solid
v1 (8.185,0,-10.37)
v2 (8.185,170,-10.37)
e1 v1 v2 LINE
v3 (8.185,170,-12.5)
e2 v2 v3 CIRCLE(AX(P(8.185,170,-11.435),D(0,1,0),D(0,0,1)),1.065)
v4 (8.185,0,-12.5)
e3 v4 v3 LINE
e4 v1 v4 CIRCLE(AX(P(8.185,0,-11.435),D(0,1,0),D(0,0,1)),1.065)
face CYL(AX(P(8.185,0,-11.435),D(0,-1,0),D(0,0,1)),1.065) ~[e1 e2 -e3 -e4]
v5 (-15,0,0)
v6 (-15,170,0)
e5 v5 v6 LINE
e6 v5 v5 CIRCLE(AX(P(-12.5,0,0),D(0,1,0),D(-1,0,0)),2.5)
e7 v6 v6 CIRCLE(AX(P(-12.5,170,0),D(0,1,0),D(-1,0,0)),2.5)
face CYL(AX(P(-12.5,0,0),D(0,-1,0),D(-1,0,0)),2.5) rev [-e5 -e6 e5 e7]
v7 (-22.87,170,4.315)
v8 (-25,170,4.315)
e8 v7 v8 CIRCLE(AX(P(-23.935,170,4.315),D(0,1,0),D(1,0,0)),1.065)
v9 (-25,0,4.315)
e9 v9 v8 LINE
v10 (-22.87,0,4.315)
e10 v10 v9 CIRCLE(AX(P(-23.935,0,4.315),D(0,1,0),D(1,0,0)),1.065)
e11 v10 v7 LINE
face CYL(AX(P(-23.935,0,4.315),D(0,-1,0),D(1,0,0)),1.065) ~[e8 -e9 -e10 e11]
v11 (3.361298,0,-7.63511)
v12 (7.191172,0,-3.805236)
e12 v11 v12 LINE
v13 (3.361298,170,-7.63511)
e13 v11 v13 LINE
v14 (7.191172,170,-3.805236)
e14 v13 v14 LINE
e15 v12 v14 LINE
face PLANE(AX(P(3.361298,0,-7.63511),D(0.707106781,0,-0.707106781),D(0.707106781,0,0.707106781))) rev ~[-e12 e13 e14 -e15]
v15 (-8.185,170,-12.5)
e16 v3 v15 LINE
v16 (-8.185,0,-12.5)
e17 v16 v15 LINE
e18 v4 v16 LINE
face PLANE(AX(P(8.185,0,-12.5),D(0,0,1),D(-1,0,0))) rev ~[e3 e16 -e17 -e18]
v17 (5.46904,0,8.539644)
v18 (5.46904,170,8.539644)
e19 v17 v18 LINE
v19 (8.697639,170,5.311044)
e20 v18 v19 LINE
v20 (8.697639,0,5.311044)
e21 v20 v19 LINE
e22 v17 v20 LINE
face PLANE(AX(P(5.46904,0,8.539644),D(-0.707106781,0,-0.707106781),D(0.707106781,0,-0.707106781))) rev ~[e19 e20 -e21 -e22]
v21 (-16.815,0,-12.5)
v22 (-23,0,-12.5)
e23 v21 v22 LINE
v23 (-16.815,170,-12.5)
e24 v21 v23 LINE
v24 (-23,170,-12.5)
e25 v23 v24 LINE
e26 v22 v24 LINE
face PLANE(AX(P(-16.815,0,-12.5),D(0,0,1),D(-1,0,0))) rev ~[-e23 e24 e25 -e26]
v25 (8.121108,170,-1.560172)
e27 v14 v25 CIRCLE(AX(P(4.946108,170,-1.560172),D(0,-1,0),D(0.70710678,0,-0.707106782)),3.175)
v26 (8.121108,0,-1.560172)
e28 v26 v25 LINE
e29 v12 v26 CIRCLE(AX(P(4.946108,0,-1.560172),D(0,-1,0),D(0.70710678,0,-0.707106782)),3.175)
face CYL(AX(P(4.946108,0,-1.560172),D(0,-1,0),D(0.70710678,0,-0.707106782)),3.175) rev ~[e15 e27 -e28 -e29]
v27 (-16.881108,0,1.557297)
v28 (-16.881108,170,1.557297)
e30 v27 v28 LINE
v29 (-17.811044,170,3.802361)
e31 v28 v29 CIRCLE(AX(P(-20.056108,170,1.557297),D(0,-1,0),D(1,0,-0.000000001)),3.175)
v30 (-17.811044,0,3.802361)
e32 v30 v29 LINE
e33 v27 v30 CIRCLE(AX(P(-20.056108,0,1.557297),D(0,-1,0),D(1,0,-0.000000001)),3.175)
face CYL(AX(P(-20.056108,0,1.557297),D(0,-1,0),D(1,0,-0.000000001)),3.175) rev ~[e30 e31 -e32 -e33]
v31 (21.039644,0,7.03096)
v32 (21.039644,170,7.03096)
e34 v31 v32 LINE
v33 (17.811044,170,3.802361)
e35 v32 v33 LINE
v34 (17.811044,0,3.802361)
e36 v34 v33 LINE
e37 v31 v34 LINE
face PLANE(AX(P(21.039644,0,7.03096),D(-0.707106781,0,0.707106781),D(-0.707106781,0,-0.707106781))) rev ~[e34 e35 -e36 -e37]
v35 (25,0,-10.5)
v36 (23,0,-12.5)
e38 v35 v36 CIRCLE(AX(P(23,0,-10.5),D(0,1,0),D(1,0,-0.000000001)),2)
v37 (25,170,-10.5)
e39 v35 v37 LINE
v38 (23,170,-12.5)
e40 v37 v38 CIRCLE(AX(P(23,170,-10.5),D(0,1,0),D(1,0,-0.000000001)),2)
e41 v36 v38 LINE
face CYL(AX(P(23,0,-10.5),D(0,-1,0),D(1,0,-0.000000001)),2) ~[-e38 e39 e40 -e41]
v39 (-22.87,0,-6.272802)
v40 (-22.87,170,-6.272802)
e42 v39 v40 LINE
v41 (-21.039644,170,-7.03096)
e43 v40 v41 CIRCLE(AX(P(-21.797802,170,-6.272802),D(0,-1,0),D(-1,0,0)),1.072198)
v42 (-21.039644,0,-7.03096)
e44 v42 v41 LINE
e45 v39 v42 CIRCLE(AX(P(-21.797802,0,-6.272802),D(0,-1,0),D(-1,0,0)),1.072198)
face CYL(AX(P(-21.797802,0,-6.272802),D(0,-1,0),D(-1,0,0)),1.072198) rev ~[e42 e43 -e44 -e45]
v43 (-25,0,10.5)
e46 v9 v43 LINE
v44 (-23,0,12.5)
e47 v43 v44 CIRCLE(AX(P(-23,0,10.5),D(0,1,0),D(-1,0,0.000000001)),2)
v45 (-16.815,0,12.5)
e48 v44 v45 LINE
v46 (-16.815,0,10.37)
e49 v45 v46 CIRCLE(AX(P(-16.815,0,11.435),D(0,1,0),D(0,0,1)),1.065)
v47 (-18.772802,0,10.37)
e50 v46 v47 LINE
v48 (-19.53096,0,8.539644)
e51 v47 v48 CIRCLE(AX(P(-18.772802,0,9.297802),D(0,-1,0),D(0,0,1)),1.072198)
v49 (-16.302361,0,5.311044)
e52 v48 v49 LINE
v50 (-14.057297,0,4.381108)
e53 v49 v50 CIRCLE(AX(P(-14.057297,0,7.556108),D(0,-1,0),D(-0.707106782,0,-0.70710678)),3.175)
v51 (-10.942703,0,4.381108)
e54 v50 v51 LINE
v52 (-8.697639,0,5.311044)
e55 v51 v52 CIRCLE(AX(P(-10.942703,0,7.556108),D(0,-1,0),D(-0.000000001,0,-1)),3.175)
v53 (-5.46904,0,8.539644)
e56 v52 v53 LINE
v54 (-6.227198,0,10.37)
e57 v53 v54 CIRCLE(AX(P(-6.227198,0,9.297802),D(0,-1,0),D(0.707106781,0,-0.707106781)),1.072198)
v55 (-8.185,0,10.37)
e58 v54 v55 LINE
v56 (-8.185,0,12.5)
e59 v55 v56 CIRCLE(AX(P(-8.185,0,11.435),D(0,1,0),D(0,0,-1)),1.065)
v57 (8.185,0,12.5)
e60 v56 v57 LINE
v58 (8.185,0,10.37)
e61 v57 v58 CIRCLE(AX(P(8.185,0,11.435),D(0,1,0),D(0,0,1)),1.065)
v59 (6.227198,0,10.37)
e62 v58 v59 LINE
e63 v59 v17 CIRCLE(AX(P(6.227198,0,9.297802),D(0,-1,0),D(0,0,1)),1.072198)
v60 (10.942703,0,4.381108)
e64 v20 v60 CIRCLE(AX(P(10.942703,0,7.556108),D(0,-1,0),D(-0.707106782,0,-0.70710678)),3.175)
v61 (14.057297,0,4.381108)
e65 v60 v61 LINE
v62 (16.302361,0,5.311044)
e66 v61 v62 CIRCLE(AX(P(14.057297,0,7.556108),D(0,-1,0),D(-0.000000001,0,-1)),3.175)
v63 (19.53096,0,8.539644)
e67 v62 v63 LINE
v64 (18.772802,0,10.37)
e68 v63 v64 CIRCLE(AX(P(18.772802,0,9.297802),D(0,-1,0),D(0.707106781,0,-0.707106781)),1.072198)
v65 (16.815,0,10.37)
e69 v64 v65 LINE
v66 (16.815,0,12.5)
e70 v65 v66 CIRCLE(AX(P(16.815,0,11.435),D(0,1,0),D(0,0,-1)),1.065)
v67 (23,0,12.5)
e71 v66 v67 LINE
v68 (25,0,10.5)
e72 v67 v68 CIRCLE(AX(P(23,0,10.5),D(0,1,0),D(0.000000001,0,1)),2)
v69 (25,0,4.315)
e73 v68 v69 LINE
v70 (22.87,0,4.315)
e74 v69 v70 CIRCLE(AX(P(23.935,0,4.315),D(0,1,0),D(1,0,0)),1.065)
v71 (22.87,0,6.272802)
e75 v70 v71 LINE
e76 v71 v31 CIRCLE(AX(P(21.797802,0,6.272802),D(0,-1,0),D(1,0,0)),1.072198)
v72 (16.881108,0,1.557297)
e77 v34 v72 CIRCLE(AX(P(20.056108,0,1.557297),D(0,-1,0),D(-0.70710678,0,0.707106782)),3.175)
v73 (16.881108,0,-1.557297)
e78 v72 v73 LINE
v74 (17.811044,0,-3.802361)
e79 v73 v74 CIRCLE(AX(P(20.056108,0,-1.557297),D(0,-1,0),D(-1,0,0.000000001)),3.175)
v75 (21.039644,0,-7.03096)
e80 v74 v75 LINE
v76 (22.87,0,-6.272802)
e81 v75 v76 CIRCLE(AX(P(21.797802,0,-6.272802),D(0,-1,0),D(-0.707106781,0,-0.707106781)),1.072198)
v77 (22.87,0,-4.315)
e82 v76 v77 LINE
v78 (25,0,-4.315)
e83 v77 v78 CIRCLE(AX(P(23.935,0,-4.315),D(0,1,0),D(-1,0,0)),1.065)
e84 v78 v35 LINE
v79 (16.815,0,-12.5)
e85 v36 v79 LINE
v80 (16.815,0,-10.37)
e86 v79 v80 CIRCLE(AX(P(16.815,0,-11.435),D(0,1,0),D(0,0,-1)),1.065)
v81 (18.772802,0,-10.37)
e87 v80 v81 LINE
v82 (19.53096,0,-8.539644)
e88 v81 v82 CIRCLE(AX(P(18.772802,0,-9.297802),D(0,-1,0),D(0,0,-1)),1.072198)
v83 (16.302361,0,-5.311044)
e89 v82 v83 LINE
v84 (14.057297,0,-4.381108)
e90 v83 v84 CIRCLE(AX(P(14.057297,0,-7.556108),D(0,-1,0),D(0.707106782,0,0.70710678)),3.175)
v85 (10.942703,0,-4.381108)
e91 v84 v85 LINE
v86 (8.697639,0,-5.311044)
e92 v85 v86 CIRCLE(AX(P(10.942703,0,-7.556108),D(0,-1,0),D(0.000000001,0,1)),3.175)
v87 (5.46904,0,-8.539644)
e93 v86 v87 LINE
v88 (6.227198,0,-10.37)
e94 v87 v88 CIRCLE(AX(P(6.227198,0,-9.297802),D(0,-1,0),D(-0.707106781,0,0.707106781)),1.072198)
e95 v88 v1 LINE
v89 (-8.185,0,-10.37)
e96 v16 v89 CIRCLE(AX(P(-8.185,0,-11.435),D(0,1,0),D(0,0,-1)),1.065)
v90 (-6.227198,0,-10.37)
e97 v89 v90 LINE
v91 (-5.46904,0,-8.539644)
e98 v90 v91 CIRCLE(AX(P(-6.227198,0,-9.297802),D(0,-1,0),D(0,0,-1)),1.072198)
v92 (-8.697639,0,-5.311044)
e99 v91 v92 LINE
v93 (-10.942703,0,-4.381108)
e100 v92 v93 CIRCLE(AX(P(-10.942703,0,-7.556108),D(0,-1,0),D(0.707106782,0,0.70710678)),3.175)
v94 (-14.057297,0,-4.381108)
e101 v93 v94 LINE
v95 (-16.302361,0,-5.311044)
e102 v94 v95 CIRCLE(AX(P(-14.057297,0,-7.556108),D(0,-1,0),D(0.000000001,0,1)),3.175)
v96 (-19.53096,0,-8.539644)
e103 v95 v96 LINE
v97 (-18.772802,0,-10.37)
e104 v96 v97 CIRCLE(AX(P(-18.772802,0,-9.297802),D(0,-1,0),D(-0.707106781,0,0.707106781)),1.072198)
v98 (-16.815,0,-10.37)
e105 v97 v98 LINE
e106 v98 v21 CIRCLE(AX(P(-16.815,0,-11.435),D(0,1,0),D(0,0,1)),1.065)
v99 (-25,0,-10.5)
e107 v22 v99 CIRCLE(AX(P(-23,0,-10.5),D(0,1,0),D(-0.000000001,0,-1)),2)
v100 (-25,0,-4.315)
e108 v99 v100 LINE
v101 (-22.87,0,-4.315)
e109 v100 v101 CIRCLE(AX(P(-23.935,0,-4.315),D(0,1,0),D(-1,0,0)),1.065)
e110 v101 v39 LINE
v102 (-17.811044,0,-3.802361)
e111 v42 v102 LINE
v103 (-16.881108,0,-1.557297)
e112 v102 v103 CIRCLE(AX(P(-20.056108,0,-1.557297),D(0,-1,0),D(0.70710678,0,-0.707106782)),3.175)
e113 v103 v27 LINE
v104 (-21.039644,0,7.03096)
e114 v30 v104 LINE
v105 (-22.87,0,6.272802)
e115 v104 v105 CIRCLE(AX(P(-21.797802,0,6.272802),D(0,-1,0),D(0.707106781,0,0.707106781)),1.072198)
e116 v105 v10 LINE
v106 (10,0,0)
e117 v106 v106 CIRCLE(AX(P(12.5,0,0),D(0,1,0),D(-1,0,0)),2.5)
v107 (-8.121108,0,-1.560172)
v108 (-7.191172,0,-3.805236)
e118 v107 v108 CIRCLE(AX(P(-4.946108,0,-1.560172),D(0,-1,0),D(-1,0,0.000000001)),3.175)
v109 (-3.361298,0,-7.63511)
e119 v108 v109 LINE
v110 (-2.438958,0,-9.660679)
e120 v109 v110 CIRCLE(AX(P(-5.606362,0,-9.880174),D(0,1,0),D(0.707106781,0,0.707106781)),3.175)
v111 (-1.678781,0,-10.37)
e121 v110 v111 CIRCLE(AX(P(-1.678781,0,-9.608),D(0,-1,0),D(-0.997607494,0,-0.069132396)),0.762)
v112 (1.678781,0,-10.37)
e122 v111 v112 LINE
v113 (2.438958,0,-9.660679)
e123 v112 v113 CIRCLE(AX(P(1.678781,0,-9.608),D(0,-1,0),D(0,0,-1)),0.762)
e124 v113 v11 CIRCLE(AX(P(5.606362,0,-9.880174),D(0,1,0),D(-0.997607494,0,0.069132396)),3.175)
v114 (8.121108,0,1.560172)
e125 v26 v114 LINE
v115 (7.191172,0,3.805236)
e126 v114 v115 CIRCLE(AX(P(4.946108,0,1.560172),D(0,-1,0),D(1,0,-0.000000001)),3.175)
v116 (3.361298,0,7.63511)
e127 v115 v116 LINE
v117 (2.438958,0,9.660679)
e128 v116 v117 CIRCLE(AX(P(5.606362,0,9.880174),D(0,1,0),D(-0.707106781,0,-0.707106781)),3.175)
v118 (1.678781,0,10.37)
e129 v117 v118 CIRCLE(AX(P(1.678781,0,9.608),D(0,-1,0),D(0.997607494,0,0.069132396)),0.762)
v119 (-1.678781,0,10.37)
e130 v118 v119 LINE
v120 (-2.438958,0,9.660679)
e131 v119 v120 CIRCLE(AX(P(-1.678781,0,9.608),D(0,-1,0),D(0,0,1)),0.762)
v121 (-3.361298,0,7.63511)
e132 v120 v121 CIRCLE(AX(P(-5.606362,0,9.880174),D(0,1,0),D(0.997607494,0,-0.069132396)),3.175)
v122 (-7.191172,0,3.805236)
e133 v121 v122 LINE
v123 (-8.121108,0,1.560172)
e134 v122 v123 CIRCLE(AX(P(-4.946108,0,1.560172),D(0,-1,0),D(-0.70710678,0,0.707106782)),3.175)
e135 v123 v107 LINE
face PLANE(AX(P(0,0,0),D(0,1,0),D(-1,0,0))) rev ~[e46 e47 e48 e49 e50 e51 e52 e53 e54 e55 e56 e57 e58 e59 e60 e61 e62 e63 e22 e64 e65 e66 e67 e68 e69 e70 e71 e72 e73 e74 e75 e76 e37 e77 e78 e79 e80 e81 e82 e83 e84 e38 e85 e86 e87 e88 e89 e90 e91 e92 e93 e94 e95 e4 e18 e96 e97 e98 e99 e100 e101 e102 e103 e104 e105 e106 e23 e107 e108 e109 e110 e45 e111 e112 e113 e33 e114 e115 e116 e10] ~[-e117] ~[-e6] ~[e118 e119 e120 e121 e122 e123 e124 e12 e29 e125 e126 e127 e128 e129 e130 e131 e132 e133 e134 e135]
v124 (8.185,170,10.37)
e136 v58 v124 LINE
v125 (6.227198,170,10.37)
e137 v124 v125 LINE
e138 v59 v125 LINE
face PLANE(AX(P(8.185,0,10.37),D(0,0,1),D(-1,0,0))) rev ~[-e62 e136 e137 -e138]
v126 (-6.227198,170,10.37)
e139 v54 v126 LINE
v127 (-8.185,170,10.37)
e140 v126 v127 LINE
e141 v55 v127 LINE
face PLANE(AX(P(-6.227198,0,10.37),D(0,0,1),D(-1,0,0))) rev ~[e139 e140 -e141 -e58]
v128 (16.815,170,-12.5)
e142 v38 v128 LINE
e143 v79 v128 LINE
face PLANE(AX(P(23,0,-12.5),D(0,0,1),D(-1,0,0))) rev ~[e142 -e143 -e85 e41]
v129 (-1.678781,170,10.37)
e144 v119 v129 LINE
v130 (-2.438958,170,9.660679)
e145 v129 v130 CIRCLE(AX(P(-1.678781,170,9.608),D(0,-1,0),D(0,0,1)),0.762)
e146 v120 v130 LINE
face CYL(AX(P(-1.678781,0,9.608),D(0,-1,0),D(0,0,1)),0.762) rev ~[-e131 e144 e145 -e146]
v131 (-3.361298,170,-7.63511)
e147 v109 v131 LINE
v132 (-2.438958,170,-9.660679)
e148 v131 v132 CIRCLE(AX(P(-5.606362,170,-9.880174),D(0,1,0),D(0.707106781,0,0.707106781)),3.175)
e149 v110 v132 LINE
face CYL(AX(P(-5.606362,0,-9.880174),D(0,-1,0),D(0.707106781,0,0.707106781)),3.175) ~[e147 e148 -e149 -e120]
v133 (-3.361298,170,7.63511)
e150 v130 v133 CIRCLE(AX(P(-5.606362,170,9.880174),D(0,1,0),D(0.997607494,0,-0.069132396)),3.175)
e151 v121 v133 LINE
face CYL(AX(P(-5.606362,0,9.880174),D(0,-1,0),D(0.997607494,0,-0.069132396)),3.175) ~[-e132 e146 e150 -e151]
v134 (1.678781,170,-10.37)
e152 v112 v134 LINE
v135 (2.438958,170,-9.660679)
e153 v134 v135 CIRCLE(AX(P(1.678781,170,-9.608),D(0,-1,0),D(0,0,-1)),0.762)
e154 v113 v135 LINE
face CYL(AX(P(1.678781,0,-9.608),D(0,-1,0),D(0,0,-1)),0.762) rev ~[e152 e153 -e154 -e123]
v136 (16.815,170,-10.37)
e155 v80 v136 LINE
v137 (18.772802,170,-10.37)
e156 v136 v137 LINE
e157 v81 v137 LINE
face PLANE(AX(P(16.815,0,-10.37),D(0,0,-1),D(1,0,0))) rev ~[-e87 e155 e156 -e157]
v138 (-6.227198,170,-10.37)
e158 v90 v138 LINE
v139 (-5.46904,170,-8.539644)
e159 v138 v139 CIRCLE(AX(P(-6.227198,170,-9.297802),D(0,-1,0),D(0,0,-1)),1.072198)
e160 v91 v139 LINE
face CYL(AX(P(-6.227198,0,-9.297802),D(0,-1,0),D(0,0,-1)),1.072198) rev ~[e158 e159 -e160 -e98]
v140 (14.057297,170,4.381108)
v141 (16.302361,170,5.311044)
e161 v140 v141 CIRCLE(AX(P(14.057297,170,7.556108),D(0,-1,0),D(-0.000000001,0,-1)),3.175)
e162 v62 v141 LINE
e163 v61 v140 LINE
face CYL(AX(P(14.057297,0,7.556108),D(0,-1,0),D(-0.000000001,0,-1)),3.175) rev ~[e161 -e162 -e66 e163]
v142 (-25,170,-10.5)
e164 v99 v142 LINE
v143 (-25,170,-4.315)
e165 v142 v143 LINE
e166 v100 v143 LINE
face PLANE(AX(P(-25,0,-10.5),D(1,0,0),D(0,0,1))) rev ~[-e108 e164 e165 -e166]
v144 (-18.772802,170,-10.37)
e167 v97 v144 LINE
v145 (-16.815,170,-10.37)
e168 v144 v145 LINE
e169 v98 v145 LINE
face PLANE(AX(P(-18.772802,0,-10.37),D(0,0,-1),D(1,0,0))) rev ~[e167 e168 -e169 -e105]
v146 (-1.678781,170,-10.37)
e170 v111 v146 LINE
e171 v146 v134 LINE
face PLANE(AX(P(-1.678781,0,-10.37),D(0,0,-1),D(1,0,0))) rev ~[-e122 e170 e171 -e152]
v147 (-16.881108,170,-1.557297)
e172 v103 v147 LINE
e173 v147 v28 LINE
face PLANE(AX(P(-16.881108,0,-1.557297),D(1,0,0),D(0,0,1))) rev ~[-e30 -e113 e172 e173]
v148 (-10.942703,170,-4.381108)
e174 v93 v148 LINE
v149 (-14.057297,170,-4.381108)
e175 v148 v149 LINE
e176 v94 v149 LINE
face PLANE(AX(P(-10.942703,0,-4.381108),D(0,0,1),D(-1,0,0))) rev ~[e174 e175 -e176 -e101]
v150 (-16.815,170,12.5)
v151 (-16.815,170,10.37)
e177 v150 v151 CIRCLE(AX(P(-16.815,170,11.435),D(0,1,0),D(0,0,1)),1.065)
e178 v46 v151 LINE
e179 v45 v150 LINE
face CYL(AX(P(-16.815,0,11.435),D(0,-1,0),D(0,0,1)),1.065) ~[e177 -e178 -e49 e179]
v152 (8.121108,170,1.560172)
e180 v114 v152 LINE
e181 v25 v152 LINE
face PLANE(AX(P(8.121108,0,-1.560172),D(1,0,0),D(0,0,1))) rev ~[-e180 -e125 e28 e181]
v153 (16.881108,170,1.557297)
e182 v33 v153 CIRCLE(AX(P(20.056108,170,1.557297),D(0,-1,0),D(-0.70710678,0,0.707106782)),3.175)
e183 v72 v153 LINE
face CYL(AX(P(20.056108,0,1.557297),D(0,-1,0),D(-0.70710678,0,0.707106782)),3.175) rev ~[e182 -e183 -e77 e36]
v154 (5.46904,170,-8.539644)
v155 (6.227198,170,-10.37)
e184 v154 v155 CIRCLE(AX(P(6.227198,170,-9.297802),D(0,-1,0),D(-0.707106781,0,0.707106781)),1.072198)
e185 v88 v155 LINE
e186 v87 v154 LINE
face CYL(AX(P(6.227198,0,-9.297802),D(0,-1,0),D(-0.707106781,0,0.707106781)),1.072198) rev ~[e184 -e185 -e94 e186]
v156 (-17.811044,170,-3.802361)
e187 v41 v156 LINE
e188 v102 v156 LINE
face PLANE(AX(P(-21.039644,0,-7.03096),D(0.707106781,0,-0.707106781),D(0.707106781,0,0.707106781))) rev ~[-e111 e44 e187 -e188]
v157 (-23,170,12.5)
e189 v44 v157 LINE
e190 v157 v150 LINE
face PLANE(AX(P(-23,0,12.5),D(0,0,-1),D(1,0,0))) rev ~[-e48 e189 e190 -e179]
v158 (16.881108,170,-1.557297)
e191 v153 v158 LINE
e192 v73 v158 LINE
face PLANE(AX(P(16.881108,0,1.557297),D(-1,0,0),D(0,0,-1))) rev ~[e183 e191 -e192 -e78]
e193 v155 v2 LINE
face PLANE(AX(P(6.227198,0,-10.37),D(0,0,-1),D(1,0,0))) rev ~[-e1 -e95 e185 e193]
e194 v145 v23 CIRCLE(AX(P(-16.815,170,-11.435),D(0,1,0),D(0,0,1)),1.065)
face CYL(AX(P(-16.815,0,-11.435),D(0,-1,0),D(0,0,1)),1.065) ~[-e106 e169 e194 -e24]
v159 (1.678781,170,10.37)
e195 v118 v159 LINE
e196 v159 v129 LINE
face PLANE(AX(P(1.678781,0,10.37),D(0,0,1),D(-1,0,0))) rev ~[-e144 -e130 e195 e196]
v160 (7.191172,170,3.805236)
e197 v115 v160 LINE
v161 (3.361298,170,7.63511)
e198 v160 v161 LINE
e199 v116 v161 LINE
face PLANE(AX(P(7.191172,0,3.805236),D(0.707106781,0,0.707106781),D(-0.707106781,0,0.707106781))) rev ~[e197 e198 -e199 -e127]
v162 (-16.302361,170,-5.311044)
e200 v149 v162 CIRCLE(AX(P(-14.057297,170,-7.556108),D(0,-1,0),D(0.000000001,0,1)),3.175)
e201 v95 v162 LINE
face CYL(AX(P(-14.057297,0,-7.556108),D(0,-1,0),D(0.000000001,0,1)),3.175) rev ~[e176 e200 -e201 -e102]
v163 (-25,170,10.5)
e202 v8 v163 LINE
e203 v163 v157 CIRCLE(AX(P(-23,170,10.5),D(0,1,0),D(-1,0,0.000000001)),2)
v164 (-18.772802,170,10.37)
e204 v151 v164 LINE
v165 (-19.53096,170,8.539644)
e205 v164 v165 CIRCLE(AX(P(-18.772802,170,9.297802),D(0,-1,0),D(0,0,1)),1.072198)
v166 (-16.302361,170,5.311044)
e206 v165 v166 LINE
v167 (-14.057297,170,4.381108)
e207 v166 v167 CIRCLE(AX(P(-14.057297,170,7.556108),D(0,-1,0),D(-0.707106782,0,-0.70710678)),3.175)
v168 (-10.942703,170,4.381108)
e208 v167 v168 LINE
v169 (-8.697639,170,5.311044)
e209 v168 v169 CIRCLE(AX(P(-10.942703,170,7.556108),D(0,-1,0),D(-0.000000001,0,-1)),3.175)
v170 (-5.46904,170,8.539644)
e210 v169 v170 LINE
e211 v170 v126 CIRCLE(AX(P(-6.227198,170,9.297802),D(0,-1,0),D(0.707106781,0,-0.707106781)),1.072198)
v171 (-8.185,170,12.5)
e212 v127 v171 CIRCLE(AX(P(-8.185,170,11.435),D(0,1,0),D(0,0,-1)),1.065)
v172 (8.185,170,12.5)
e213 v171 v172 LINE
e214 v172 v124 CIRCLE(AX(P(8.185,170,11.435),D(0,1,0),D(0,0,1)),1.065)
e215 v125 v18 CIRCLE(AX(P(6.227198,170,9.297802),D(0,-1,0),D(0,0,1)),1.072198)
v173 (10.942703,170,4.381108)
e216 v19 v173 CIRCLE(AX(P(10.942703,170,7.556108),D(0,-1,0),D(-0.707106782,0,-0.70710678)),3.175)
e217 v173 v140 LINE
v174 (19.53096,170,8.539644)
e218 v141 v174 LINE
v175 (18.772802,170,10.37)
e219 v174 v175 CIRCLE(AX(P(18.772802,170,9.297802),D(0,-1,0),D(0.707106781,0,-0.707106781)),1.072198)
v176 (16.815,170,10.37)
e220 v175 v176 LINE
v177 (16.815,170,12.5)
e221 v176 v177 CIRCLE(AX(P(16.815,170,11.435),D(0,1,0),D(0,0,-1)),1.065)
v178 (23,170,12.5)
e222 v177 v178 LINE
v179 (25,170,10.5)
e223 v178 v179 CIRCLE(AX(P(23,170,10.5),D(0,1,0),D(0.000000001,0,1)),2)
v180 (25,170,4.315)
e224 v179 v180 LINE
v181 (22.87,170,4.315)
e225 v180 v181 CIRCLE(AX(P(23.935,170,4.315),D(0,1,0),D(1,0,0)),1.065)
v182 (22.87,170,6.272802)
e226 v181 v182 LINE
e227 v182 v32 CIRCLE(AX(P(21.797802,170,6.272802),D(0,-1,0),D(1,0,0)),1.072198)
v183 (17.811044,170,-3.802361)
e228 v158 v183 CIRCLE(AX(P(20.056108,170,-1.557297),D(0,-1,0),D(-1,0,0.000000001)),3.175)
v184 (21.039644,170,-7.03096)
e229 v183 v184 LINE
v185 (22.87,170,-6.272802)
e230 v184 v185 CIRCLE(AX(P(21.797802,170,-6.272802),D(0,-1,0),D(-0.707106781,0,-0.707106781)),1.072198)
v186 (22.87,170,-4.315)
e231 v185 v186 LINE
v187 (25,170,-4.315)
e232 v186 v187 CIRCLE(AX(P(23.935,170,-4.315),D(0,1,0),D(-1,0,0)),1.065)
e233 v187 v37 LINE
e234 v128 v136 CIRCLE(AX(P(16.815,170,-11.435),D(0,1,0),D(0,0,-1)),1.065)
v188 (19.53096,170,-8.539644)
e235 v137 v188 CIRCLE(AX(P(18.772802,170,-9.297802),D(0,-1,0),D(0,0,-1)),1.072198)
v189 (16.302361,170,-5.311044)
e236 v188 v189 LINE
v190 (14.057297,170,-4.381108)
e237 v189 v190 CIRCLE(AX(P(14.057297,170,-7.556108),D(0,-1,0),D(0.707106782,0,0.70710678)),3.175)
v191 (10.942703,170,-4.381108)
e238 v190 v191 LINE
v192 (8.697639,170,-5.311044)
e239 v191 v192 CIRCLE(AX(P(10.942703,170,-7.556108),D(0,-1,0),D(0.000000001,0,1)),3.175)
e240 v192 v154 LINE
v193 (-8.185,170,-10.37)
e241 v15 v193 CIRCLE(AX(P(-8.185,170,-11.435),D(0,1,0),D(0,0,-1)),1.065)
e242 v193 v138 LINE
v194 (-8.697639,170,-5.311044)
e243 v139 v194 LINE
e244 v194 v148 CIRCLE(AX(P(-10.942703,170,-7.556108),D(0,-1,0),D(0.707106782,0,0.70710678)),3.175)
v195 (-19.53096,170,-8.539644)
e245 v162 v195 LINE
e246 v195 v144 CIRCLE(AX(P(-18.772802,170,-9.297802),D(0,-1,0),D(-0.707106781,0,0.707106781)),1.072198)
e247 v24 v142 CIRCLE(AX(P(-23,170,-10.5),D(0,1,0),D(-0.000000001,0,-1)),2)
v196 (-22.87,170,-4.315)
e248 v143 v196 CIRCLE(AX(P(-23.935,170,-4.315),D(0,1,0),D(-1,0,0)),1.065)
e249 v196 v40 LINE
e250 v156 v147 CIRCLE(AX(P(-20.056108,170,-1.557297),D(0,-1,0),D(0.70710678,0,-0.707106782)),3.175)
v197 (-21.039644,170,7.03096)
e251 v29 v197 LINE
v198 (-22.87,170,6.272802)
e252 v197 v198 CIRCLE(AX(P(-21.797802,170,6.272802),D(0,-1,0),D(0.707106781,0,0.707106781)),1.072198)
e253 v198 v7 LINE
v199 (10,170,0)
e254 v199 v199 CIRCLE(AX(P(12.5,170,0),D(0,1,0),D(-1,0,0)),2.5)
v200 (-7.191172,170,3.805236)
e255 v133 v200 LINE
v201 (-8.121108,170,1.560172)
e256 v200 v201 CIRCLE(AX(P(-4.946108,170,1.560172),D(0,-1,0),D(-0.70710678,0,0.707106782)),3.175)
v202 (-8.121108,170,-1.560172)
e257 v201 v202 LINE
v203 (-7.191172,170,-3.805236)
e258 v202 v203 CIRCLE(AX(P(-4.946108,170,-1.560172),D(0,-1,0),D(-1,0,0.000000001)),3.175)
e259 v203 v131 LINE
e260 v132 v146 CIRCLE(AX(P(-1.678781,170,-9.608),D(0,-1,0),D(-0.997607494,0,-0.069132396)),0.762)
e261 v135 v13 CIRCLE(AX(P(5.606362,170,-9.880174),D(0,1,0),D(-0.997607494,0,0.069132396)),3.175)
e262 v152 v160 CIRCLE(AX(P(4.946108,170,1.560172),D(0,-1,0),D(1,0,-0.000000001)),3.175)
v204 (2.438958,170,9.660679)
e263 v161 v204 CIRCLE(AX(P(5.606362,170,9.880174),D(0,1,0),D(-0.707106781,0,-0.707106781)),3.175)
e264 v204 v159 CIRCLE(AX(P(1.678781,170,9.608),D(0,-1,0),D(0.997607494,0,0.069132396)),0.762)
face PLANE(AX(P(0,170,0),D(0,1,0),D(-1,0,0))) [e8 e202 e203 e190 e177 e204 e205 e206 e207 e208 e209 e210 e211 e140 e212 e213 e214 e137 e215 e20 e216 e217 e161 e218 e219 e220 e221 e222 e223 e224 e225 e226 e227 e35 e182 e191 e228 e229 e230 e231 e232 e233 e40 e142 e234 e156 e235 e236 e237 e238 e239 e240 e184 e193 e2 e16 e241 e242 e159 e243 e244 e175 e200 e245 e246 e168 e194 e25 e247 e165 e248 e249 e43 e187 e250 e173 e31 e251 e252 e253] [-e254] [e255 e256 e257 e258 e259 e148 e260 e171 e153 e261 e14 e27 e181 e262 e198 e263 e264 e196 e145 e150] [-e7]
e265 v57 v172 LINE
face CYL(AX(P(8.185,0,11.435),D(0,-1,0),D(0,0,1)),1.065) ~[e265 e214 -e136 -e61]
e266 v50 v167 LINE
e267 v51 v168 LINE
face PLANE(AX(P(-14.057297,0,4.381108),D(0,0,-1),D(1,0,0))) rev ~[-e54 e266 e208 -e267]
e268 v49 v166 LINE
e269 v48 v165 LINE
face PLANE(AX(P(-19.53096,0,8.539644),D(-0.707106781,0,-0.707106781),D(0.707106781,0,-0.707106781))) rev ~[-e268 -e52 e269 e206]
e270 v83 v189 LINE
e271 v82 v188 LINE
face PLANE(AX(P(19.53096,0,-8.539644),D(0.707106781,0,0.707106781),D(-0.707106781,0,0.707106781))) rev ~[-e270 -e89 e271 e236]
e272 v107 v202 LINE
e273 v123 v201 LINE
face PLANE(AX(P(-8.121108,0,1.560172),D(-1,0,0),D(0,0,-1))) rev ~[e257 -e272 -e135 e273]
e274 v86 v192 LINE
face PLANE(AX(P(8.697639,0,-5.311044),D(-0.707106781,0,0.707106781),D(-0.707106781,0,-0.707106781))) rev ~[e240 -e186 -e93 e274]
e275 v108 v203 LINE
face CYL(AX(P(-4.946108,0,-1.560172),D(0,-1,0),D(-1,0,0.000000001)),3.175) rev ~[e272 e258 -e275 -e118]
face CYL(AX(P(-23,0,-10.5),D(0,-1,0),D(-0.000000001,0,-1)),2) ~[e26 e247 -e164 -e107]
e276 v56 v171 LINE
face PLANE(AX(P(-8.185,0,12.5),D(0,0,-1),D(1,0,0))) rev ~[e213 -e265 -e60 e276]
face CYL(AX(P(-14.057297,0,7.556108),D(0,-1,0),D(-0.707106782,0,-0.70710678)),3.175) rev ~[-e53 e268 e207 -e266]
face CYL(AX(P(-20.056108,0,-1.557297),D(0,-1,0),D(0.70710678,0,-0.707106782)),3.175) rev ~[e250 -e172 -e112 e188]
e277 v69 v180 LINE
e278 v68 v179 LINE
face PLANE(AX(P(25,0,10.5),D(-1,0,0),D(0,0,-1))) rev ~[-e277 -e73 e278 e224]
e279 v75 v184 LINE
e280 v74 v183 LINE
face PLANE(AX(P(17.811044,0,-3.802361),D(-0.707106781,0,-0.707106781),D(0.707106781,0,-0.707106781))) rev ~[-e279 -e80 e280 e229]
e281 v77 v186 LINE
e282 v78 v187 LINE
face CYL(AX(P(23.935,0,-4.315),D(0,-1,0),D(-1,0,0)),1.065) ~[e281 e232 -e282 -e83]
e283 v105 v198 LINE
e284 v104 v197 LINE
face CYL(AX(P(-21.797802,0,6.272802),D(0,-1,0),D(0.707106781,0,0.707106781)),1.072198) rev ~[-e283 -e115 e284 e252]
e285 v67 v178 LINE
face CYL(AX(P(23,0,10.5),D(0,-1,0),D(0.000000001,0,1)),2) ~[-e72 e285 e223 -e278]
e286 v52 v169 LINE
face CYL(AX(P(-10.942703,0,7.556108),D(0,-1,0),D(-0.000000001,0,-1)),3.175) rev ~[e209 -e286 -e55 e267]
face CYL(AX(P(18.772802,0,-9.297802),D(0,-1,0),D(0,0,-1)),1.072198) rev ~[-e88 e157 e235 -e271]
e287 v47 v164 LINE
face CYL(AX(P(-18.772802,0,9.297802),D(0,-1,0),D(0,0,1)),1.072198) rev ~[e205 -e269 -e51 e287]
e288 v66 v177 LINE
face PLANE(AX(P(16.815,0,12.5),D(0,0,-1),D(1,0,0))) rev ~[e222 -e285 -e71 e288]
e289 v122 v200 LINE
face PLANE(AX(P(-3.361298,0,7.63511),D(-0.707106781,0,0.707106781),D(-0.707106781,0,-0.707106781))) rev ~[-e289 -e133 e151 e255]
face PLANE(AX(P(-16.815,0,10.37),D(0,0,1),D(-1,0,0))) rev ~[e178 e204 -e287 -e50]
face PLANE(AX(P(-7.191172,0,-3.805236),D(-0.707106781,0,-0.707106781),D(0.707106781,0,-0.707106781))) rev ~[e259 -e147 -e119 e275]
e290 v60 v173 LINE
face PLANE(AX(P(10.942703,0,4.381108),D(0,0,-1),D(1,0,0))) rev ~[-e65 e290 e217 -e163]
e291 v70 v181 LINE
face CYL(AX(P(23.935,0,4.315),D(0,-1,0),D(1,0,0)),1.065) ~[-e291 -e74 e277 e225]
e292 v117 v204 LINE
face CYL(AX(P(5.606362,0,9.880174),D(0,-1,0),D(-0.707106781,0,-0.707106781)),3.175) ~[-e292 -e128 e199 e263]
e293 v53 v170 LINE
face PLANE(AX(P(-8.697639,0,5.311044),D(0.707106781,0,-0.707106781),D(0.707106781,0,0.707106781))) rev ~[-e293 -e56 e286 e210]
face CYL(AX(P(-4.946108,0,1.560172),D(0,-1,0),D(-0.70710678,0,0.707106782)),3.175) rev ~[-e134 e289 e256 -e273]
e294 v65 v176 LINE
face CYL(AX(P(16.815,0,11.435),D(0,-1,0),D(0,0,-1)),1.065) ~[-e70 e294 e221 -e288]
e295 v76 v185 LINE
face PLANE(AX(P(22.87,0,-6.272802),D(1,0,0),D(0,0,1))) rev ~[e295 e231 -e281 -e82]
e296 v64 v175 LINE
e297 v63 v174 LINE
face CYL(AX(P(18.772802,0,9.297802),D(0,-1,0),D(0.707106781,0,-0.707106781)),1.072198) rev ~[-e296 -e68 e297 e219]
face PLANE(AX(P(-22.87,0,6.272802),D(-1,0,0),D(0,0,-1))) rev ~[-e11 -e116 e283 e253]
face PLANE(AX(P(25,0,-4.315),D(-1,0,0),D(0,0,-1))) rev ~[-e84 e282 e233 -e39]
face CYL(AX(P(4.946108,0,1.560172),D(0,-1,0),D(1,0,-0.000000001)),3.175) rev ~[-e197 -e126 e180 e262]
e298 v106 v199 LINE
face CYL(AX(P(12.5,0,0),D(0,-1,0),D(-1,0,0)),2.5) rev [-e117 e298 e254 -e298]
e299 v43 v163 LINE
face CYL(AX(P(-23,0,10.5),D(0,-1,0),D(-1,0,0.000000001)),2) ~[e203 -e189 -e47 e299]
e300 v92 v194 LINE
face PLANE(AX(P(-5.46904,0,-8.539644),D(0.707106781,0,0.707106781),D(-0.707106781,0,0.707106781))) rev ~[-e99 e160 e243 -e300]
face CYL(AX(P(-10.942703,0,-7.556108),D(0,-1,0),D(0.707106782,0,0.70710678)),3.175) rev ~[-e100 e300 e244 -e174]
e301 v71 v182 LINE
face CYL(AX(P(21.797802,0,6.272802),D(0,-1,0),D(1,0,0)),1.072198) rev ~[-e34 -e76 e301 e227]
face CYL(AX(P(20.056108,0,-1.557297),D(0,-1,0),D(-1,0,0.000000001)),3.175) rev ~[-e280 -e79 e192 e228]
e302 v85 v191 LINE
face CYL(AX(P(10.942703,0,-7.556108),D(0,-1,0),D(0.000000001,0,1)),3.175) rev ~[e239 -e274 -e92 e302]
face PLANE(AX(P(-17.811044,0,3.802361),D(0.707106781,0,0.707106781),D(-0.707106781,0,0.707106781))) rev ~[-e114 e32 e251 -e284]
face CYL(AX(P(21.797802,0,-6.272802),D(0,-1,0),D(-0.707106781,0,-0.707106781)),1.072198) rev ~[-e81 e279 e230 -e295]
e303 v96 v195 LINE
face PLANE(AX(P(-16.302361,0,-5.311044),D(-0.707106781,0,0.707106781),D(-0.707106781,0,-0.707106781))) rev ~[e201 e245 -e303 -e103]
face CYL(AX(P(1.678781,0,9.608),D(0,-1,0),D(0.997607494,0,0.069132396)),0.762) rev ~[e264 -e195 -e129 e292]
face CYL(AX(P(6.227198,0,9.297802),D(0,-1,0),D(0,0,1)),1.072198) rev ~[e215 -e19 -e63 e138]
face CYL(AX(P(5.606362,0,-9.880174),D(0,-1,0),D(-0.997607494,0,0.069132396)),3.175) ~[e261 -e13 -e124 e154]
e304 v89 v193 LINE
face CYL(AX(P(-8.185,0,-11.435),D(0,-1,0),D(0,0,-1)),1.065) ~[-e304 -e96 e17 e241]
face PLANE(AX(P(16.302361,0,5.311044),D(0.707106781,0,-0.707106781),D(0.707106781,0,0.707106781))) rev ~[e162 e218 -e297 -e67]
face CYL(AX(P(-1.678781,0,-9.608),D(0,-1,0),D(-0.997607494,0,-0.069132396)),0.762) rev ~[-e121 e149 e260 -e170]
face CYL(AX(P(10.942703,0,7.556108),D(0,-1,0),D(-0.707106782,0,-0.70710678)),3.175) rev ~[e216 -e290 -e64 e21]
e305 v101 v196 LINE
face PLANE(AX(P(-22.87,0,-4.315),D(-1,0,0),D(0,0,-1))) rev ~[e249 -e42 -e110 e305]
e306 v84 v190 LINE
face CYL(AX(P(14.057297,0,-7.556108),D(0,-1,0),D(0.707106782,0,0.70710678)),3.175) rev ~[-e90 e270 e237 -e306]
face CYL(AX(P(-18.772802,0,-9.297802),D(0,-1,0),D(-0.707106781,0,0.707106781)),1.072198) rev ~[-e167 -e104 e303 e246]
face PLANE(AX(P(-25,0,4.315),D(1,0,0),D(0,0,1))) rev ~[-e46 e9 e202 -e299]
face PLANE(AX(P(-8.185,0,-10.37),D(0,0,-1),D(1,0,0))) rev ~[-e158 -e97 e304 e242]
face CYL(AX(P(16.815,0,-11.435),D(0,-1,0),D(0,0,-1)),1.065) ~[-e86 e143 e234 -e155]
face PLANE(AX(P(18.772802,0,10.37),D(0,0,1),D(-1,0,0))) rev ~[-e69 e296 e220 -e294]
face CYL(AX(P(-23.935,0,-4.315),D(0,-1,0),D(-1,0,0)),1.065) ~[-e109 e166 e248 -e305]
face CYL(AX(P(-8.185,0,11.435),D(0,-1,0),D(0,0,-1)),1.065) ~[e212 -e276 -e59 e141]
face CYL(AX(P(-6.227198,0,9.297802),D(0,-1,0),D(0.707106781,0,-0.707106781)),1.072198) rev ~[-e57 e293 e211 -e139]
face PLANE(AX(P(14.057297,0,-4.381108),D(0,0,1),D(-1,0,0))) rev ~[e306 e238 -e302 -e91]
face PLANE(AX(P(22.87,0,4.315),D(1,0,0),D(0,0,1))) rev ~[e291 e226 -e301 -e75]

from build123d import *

# Parameters (mm, degrees)
SKETCH11_R                             = 2.5
F_25_SERIES_EXTRUSIONS_25_2550_1_DEPTH = 170


with BuildPart() as part:
    # Sketch11 → 25 series extrusions 25-2550(1) (new body)
    with BuildSketch(Plane(origin=(0, 0, 0), x_dir=(-1, 0, 0), z_dir=(0, 1, 0))):
        with BuildLine():
            Line((8.185, 12.5), (-8.185, 12.5))
            ThreePointArc((-8.185, 12.5), (-9.25, 11.435), (-8.185, 10.37))
            Line((-8.185, 10.37), (-6.227198013, 10.37))
            ThreePointArc((-6.227198013, 10.37), (-5.236616214, 9.708114403), (-5.469039527, 8.539643501))
            Line((-5.469039527, 8.539643501), (-8.697639148, 5.311043881))
            ThreePointArc((-8.697639148, 5.311043881), (-9.72768328, 4.622790395), (-10.942703178, 4.381107911))
            Line((-10.942703178, 4.381107911), (-14.057296822, 4.381107911))
            ThreePointArc((-14.057296822, 4.381107911), (-15.27231672, 4.622790395), (-16.302360852, 5.311043881))
            Line((-16.302360852, 5.311043881), (-19.530960473, 8.539643501))
            ThreePointArc((-19.530960473, 8.539643501), (-19.763383786, 9.708114403), (-18.772801987, 10.37))
            Line((-18.772801987, 10.37), (-16.815, 10.37))
            ThreePointArc((-16.815, 10.37), (-15.75, 11.435), (-16.815, 12.5))
            Line((-16.815, 12.5), (-23, 12.5))
            ThreePointArc((-23, 12.5), (-24.414213562, 11.914213562), (-25, 10.5))
            Line((-25, 10.5), (-25, 4.315))
            ThreePointArc((-25, 4.315), (-23.935, 3.25), (-22.87, 4.315))
            Line((-22.87, 4.315), (-22.87, 6.272801987))
            ThreePointArc((-22.87, 6.272801987), (-22.208114403, 7.263383786), (-21.039643501, 7.030960473))
            Line((-21.039643501, 7.030960473), (-17.811043881, 3.802360852))
            ThreePointArc((-17.811043881, 3.802360852), (-17.122790395, 2.77231672), (-16.881107911, 1.557296822))
            Line((-16.881107911, 1.557296822), (-16.881107911, -1.557296822))
            ThreePointArc((-16.881107911, -1.557296822), (-17.122790395, -2.77231672), (-17.811043881, -3.802360852))
            Line((-17.811043881, -3.802360852), (-21.039643501, -7.030960473))
            ThreePointArc((-21.039643501, -7.030960473), (-22.208114403, -7.263383786), (-22.87, -6.272801987))
            Line((-22.87, -6.272801987), (-22.87, -4.315))
            ThreePointArc((-22.87, -4.315), (-23.935, -3.25), (-25, -4.315))
            Line((-25, -4.315), (-25, -10.5))
            ThreePointArc((-25, -10.5), (-24.414213562, -11.914213562), (-23, -12.5))
            Line((-23, -12.5), (-16.815, -12.5))
            ThreePointArc((-16.815, -12.5), (-15.75, -11.435), (-16.815, -10.37))
            Line((-16.815, -10.37), (-18.772801987, -10.37))
            ThreePointArc((-18.772801987, -10.37), (-19.763383786, -9.708114403), (-19.530960473, -8.539643501))
            Line((-19.530960473, -8.539643501), (-16.302360852, -5.311043881))
            ThreePointArc((-16.302360852, -5.311043881), (-15.27231672, -4.622790395), (-14.057296822, -4.381107911))
            Line((-14.057296822, -4.381107911), (-10.942703178, -4.381107911))
            ThreePointArc((-10.942703178, -4.381107911), (-9.72768328, -4.622790395), (-8.697639148, -5.311043881))
            Line((-8.697639148, -5.311043881), (-5.469039527, -8.539643501))
            ThreePointArc((-5.469039527, -8.539643501), (-5.236616214, -9.708114403), (-6.227198013, -10.37))
            Line((-6.227198013, -10.37), (-8.185, -10.37))
            ThreePointArc((-8.185, -10.37), (-9.25, -11.435), (-8.185, -12.5))
            Line((-8.185, -12.5), (8.185, -12.5))
            ThreePointArc((8.185, -12.5), (9.25, -11.435), (8.185, -10.37))
            Line((8.185, -10.37), (6.227198013, -10.37))
            ThreePointArc((6.227198013, -10.37), (5.236616214, -9.708114403), (5.469039527, -8.539643501))
            Line((5.469039527, -8.539643501), (8.697639148, -5.311043881))
            ThreePointArc((8.697639148, -5.311043881), (9.72768328, -4.622790395), (10.942703178, -4.381107911))
            Line((10.942703178, -4.381107911), (14.057296822, -4.381107911))
            ThreePointArc((14.057296822, -4.381107911), (15.27231672, -4.622790395), (16.302360852, -5.311043881))
            Line((16.302360852, -5.311043881), (19.530960473, -8.539643501))
            ThreePointArc((19.530960473, -8.539643501), (19.763383786, -9.708114403), (18.772801987, -10.37))
            Line((18.772801987, -10.37), (16.815, -10.37))
            ThreePointArc((16.815, -10.37), (15.75, -11.435), (16.815, -12.5))
            Line((16.815, -12.5), (23, -12.5))
            ThreePointArc((23, -12.5), (24.414213562, -11.914213562), (25, -10.5))
            Line((25, -10.5), (25, -4.315))
            ThreePointArc((25, -4.315), (23.935, -3.25), (22.87, -4.315))
            Line((22.87, -4.315), (22.87, -6.272801987))
            ThreePointArc((22.87, -6.272801987), (22.208114403, -7.263383786), (21.039643501, -7.030960473))
            Line((21.039643501, -7.030960473), (17.811043881, -3.802360852))
            ThreePointArc((17.811043881, -3.802360852), (17.122790395, -2.77231672), (16.881107911, -1.557296822))
            Line((16.881107911, -1.557296822), (16.881107911, 1.557296822))
            ThreePointArc((16.881107911, 1.557296822), (17.122790395, 2.77231672), (17.811043881, 3.802360852))
            Line((17.811043881, 3.802360852), (21.039643501, 7.030960473))
            ThreePointArc((21.039643501, 7.030960473), (22.208114403, 7.263383786), (22.87, 6.272801987))
            Line((22.87, 6.272801987), (22.87, 4.315))
            ThreePointArc((22.87, 4.315), (23.935, 3.25), (25, 4.315))
            Line((25, 4.315), (25, 10.5))
            ThreePointArc((25, 10.5), (24.414213562, 11.914213562), (23, 12.5))
            Line((23, 12.5), (16.815, 12.5))
            ThreePointArc((16.815, 12.5), (15.75, 11.435), (16.815, 10.37))
            Line((16.815, 10.37), (18.772801987, 10.37))
            ThreePointArc((18.772801987, 10.37), (19.763383786, 9.708114403), (19.530960473, 8.539643501))
            Line((19.530960473, 8.539643501), (16.302360852, 5.311043881))
            ThreePointArc((16.302360852, 5.311043881), (15.27231672, 4.622790395), (14.057296822, 4.381107911))
            Line((14.057296822, 4.381107911), (10.942703178, 4.381107911))
            ThreePointArc((10.942703178, 4.381107911), (9.72768328, 4.622790395), (8.697639148, 5.311043881))
            Line((8.697639148, 5.311043881), (5.469039527, 8.539643501))
            ThreePointArc((5.469039527, 8.539643501), (5.236616214, 9.708114403), (6.227198013, 10.37))
            Line((6.227198013, 10.37), (8.185, 10.37))
            ThreePointArc((8.185, 10.37), (9.25, 11.435), (8.185, 12.5))
        make_face()
        with Locations((-12.5, 0)):
            Circle(SKETCH11_R, mode=Mode.SUBTRACT)
        with Locations((12.5, 0)):
            Circle(SKETCH11_R, mode=Mode.SUBTRACT)
        with BuildLine():
            Line((-1.678781255, 10.37), (1.678781255, 10.37))
            ThreePointArc((1.678781255, 10.37), (2.198638297, 10.16512894), (2.438958165, 9.660678886))
            ThreePointArc((2.438958165, 9.660678886), (2.716823224, 8.564426963), (3.361297928, 7.635110212))
            Line((3.361297928, 7.635110212), (7.191171941, 3.805236199))
            ThreePointArc((7.191171941, 3.805236199), (7.879425427, 2.775192067), (8.121107911, 1.560172169))
            Line((8.121107911, 1.560172169), (8.121107911, -1.560172169))
            ThreePointArc((8.121107911, -1.560172169), (7.879425427, -2.775192067), (7.191171941, -3.805236199))
            Line((7.191171941, -3.805236199), (3.361297928, -7.635110212))
            ThreePointArc((3.361297928, -7.635110212), (2.716823224, -8.564426963), (2.438958165, -9.660678886))
            ThreePointArc((2.438958165, -9.660678886), (2.198638297, -10.16512894), (1.678781255, -10.37))
            Line((1.678781255, -10.37), (-1.678781255, -10.37))
            ThreePointArc((-1.678781255, -10.37), (-2.198638297, -10.16512894), (-2.438958165, -9.660678886))
            ThreePointArc((-2.438958165, -9.660678886), (-2.716823224, -8.564426963), (-3.361297928, -7.635110212))
            Line((-3.361297928, -7.635110212), (-7.191171941, -3.805236199))
            ThreePointArc((-7.191171941, -3.805236199), (-7.879425427, -2.775192067), (-8.121107911, -1.560172169))
            Line((-8.121107911, -1.560172169), (-8.121107911, 1.560172169))
            ThreePointArc((-8.121107911, 1.560172169), (-7.879425427, 2.775192067), (-7.191171941, 3.805236199))
            Line((-7.191171941, 3.805236199), (-3.361297928, 7.635110212))
            ThreePointArc((-3.361297928, 7.635110212), (-2.716823224, 8.564426963), (-2.438958165, 9.660678886))
            ThreePointArc((-2.438958165, 9.660678886), (-2.198638297, 10.16512894), (-1.678781255, 10.37))
        make_face(mode=Mode.SUBTRACT)
    extrude(amount=F_25_SERIES_EXTRUSIONS_25_2550_1_DEPTH)


solid = part.part
